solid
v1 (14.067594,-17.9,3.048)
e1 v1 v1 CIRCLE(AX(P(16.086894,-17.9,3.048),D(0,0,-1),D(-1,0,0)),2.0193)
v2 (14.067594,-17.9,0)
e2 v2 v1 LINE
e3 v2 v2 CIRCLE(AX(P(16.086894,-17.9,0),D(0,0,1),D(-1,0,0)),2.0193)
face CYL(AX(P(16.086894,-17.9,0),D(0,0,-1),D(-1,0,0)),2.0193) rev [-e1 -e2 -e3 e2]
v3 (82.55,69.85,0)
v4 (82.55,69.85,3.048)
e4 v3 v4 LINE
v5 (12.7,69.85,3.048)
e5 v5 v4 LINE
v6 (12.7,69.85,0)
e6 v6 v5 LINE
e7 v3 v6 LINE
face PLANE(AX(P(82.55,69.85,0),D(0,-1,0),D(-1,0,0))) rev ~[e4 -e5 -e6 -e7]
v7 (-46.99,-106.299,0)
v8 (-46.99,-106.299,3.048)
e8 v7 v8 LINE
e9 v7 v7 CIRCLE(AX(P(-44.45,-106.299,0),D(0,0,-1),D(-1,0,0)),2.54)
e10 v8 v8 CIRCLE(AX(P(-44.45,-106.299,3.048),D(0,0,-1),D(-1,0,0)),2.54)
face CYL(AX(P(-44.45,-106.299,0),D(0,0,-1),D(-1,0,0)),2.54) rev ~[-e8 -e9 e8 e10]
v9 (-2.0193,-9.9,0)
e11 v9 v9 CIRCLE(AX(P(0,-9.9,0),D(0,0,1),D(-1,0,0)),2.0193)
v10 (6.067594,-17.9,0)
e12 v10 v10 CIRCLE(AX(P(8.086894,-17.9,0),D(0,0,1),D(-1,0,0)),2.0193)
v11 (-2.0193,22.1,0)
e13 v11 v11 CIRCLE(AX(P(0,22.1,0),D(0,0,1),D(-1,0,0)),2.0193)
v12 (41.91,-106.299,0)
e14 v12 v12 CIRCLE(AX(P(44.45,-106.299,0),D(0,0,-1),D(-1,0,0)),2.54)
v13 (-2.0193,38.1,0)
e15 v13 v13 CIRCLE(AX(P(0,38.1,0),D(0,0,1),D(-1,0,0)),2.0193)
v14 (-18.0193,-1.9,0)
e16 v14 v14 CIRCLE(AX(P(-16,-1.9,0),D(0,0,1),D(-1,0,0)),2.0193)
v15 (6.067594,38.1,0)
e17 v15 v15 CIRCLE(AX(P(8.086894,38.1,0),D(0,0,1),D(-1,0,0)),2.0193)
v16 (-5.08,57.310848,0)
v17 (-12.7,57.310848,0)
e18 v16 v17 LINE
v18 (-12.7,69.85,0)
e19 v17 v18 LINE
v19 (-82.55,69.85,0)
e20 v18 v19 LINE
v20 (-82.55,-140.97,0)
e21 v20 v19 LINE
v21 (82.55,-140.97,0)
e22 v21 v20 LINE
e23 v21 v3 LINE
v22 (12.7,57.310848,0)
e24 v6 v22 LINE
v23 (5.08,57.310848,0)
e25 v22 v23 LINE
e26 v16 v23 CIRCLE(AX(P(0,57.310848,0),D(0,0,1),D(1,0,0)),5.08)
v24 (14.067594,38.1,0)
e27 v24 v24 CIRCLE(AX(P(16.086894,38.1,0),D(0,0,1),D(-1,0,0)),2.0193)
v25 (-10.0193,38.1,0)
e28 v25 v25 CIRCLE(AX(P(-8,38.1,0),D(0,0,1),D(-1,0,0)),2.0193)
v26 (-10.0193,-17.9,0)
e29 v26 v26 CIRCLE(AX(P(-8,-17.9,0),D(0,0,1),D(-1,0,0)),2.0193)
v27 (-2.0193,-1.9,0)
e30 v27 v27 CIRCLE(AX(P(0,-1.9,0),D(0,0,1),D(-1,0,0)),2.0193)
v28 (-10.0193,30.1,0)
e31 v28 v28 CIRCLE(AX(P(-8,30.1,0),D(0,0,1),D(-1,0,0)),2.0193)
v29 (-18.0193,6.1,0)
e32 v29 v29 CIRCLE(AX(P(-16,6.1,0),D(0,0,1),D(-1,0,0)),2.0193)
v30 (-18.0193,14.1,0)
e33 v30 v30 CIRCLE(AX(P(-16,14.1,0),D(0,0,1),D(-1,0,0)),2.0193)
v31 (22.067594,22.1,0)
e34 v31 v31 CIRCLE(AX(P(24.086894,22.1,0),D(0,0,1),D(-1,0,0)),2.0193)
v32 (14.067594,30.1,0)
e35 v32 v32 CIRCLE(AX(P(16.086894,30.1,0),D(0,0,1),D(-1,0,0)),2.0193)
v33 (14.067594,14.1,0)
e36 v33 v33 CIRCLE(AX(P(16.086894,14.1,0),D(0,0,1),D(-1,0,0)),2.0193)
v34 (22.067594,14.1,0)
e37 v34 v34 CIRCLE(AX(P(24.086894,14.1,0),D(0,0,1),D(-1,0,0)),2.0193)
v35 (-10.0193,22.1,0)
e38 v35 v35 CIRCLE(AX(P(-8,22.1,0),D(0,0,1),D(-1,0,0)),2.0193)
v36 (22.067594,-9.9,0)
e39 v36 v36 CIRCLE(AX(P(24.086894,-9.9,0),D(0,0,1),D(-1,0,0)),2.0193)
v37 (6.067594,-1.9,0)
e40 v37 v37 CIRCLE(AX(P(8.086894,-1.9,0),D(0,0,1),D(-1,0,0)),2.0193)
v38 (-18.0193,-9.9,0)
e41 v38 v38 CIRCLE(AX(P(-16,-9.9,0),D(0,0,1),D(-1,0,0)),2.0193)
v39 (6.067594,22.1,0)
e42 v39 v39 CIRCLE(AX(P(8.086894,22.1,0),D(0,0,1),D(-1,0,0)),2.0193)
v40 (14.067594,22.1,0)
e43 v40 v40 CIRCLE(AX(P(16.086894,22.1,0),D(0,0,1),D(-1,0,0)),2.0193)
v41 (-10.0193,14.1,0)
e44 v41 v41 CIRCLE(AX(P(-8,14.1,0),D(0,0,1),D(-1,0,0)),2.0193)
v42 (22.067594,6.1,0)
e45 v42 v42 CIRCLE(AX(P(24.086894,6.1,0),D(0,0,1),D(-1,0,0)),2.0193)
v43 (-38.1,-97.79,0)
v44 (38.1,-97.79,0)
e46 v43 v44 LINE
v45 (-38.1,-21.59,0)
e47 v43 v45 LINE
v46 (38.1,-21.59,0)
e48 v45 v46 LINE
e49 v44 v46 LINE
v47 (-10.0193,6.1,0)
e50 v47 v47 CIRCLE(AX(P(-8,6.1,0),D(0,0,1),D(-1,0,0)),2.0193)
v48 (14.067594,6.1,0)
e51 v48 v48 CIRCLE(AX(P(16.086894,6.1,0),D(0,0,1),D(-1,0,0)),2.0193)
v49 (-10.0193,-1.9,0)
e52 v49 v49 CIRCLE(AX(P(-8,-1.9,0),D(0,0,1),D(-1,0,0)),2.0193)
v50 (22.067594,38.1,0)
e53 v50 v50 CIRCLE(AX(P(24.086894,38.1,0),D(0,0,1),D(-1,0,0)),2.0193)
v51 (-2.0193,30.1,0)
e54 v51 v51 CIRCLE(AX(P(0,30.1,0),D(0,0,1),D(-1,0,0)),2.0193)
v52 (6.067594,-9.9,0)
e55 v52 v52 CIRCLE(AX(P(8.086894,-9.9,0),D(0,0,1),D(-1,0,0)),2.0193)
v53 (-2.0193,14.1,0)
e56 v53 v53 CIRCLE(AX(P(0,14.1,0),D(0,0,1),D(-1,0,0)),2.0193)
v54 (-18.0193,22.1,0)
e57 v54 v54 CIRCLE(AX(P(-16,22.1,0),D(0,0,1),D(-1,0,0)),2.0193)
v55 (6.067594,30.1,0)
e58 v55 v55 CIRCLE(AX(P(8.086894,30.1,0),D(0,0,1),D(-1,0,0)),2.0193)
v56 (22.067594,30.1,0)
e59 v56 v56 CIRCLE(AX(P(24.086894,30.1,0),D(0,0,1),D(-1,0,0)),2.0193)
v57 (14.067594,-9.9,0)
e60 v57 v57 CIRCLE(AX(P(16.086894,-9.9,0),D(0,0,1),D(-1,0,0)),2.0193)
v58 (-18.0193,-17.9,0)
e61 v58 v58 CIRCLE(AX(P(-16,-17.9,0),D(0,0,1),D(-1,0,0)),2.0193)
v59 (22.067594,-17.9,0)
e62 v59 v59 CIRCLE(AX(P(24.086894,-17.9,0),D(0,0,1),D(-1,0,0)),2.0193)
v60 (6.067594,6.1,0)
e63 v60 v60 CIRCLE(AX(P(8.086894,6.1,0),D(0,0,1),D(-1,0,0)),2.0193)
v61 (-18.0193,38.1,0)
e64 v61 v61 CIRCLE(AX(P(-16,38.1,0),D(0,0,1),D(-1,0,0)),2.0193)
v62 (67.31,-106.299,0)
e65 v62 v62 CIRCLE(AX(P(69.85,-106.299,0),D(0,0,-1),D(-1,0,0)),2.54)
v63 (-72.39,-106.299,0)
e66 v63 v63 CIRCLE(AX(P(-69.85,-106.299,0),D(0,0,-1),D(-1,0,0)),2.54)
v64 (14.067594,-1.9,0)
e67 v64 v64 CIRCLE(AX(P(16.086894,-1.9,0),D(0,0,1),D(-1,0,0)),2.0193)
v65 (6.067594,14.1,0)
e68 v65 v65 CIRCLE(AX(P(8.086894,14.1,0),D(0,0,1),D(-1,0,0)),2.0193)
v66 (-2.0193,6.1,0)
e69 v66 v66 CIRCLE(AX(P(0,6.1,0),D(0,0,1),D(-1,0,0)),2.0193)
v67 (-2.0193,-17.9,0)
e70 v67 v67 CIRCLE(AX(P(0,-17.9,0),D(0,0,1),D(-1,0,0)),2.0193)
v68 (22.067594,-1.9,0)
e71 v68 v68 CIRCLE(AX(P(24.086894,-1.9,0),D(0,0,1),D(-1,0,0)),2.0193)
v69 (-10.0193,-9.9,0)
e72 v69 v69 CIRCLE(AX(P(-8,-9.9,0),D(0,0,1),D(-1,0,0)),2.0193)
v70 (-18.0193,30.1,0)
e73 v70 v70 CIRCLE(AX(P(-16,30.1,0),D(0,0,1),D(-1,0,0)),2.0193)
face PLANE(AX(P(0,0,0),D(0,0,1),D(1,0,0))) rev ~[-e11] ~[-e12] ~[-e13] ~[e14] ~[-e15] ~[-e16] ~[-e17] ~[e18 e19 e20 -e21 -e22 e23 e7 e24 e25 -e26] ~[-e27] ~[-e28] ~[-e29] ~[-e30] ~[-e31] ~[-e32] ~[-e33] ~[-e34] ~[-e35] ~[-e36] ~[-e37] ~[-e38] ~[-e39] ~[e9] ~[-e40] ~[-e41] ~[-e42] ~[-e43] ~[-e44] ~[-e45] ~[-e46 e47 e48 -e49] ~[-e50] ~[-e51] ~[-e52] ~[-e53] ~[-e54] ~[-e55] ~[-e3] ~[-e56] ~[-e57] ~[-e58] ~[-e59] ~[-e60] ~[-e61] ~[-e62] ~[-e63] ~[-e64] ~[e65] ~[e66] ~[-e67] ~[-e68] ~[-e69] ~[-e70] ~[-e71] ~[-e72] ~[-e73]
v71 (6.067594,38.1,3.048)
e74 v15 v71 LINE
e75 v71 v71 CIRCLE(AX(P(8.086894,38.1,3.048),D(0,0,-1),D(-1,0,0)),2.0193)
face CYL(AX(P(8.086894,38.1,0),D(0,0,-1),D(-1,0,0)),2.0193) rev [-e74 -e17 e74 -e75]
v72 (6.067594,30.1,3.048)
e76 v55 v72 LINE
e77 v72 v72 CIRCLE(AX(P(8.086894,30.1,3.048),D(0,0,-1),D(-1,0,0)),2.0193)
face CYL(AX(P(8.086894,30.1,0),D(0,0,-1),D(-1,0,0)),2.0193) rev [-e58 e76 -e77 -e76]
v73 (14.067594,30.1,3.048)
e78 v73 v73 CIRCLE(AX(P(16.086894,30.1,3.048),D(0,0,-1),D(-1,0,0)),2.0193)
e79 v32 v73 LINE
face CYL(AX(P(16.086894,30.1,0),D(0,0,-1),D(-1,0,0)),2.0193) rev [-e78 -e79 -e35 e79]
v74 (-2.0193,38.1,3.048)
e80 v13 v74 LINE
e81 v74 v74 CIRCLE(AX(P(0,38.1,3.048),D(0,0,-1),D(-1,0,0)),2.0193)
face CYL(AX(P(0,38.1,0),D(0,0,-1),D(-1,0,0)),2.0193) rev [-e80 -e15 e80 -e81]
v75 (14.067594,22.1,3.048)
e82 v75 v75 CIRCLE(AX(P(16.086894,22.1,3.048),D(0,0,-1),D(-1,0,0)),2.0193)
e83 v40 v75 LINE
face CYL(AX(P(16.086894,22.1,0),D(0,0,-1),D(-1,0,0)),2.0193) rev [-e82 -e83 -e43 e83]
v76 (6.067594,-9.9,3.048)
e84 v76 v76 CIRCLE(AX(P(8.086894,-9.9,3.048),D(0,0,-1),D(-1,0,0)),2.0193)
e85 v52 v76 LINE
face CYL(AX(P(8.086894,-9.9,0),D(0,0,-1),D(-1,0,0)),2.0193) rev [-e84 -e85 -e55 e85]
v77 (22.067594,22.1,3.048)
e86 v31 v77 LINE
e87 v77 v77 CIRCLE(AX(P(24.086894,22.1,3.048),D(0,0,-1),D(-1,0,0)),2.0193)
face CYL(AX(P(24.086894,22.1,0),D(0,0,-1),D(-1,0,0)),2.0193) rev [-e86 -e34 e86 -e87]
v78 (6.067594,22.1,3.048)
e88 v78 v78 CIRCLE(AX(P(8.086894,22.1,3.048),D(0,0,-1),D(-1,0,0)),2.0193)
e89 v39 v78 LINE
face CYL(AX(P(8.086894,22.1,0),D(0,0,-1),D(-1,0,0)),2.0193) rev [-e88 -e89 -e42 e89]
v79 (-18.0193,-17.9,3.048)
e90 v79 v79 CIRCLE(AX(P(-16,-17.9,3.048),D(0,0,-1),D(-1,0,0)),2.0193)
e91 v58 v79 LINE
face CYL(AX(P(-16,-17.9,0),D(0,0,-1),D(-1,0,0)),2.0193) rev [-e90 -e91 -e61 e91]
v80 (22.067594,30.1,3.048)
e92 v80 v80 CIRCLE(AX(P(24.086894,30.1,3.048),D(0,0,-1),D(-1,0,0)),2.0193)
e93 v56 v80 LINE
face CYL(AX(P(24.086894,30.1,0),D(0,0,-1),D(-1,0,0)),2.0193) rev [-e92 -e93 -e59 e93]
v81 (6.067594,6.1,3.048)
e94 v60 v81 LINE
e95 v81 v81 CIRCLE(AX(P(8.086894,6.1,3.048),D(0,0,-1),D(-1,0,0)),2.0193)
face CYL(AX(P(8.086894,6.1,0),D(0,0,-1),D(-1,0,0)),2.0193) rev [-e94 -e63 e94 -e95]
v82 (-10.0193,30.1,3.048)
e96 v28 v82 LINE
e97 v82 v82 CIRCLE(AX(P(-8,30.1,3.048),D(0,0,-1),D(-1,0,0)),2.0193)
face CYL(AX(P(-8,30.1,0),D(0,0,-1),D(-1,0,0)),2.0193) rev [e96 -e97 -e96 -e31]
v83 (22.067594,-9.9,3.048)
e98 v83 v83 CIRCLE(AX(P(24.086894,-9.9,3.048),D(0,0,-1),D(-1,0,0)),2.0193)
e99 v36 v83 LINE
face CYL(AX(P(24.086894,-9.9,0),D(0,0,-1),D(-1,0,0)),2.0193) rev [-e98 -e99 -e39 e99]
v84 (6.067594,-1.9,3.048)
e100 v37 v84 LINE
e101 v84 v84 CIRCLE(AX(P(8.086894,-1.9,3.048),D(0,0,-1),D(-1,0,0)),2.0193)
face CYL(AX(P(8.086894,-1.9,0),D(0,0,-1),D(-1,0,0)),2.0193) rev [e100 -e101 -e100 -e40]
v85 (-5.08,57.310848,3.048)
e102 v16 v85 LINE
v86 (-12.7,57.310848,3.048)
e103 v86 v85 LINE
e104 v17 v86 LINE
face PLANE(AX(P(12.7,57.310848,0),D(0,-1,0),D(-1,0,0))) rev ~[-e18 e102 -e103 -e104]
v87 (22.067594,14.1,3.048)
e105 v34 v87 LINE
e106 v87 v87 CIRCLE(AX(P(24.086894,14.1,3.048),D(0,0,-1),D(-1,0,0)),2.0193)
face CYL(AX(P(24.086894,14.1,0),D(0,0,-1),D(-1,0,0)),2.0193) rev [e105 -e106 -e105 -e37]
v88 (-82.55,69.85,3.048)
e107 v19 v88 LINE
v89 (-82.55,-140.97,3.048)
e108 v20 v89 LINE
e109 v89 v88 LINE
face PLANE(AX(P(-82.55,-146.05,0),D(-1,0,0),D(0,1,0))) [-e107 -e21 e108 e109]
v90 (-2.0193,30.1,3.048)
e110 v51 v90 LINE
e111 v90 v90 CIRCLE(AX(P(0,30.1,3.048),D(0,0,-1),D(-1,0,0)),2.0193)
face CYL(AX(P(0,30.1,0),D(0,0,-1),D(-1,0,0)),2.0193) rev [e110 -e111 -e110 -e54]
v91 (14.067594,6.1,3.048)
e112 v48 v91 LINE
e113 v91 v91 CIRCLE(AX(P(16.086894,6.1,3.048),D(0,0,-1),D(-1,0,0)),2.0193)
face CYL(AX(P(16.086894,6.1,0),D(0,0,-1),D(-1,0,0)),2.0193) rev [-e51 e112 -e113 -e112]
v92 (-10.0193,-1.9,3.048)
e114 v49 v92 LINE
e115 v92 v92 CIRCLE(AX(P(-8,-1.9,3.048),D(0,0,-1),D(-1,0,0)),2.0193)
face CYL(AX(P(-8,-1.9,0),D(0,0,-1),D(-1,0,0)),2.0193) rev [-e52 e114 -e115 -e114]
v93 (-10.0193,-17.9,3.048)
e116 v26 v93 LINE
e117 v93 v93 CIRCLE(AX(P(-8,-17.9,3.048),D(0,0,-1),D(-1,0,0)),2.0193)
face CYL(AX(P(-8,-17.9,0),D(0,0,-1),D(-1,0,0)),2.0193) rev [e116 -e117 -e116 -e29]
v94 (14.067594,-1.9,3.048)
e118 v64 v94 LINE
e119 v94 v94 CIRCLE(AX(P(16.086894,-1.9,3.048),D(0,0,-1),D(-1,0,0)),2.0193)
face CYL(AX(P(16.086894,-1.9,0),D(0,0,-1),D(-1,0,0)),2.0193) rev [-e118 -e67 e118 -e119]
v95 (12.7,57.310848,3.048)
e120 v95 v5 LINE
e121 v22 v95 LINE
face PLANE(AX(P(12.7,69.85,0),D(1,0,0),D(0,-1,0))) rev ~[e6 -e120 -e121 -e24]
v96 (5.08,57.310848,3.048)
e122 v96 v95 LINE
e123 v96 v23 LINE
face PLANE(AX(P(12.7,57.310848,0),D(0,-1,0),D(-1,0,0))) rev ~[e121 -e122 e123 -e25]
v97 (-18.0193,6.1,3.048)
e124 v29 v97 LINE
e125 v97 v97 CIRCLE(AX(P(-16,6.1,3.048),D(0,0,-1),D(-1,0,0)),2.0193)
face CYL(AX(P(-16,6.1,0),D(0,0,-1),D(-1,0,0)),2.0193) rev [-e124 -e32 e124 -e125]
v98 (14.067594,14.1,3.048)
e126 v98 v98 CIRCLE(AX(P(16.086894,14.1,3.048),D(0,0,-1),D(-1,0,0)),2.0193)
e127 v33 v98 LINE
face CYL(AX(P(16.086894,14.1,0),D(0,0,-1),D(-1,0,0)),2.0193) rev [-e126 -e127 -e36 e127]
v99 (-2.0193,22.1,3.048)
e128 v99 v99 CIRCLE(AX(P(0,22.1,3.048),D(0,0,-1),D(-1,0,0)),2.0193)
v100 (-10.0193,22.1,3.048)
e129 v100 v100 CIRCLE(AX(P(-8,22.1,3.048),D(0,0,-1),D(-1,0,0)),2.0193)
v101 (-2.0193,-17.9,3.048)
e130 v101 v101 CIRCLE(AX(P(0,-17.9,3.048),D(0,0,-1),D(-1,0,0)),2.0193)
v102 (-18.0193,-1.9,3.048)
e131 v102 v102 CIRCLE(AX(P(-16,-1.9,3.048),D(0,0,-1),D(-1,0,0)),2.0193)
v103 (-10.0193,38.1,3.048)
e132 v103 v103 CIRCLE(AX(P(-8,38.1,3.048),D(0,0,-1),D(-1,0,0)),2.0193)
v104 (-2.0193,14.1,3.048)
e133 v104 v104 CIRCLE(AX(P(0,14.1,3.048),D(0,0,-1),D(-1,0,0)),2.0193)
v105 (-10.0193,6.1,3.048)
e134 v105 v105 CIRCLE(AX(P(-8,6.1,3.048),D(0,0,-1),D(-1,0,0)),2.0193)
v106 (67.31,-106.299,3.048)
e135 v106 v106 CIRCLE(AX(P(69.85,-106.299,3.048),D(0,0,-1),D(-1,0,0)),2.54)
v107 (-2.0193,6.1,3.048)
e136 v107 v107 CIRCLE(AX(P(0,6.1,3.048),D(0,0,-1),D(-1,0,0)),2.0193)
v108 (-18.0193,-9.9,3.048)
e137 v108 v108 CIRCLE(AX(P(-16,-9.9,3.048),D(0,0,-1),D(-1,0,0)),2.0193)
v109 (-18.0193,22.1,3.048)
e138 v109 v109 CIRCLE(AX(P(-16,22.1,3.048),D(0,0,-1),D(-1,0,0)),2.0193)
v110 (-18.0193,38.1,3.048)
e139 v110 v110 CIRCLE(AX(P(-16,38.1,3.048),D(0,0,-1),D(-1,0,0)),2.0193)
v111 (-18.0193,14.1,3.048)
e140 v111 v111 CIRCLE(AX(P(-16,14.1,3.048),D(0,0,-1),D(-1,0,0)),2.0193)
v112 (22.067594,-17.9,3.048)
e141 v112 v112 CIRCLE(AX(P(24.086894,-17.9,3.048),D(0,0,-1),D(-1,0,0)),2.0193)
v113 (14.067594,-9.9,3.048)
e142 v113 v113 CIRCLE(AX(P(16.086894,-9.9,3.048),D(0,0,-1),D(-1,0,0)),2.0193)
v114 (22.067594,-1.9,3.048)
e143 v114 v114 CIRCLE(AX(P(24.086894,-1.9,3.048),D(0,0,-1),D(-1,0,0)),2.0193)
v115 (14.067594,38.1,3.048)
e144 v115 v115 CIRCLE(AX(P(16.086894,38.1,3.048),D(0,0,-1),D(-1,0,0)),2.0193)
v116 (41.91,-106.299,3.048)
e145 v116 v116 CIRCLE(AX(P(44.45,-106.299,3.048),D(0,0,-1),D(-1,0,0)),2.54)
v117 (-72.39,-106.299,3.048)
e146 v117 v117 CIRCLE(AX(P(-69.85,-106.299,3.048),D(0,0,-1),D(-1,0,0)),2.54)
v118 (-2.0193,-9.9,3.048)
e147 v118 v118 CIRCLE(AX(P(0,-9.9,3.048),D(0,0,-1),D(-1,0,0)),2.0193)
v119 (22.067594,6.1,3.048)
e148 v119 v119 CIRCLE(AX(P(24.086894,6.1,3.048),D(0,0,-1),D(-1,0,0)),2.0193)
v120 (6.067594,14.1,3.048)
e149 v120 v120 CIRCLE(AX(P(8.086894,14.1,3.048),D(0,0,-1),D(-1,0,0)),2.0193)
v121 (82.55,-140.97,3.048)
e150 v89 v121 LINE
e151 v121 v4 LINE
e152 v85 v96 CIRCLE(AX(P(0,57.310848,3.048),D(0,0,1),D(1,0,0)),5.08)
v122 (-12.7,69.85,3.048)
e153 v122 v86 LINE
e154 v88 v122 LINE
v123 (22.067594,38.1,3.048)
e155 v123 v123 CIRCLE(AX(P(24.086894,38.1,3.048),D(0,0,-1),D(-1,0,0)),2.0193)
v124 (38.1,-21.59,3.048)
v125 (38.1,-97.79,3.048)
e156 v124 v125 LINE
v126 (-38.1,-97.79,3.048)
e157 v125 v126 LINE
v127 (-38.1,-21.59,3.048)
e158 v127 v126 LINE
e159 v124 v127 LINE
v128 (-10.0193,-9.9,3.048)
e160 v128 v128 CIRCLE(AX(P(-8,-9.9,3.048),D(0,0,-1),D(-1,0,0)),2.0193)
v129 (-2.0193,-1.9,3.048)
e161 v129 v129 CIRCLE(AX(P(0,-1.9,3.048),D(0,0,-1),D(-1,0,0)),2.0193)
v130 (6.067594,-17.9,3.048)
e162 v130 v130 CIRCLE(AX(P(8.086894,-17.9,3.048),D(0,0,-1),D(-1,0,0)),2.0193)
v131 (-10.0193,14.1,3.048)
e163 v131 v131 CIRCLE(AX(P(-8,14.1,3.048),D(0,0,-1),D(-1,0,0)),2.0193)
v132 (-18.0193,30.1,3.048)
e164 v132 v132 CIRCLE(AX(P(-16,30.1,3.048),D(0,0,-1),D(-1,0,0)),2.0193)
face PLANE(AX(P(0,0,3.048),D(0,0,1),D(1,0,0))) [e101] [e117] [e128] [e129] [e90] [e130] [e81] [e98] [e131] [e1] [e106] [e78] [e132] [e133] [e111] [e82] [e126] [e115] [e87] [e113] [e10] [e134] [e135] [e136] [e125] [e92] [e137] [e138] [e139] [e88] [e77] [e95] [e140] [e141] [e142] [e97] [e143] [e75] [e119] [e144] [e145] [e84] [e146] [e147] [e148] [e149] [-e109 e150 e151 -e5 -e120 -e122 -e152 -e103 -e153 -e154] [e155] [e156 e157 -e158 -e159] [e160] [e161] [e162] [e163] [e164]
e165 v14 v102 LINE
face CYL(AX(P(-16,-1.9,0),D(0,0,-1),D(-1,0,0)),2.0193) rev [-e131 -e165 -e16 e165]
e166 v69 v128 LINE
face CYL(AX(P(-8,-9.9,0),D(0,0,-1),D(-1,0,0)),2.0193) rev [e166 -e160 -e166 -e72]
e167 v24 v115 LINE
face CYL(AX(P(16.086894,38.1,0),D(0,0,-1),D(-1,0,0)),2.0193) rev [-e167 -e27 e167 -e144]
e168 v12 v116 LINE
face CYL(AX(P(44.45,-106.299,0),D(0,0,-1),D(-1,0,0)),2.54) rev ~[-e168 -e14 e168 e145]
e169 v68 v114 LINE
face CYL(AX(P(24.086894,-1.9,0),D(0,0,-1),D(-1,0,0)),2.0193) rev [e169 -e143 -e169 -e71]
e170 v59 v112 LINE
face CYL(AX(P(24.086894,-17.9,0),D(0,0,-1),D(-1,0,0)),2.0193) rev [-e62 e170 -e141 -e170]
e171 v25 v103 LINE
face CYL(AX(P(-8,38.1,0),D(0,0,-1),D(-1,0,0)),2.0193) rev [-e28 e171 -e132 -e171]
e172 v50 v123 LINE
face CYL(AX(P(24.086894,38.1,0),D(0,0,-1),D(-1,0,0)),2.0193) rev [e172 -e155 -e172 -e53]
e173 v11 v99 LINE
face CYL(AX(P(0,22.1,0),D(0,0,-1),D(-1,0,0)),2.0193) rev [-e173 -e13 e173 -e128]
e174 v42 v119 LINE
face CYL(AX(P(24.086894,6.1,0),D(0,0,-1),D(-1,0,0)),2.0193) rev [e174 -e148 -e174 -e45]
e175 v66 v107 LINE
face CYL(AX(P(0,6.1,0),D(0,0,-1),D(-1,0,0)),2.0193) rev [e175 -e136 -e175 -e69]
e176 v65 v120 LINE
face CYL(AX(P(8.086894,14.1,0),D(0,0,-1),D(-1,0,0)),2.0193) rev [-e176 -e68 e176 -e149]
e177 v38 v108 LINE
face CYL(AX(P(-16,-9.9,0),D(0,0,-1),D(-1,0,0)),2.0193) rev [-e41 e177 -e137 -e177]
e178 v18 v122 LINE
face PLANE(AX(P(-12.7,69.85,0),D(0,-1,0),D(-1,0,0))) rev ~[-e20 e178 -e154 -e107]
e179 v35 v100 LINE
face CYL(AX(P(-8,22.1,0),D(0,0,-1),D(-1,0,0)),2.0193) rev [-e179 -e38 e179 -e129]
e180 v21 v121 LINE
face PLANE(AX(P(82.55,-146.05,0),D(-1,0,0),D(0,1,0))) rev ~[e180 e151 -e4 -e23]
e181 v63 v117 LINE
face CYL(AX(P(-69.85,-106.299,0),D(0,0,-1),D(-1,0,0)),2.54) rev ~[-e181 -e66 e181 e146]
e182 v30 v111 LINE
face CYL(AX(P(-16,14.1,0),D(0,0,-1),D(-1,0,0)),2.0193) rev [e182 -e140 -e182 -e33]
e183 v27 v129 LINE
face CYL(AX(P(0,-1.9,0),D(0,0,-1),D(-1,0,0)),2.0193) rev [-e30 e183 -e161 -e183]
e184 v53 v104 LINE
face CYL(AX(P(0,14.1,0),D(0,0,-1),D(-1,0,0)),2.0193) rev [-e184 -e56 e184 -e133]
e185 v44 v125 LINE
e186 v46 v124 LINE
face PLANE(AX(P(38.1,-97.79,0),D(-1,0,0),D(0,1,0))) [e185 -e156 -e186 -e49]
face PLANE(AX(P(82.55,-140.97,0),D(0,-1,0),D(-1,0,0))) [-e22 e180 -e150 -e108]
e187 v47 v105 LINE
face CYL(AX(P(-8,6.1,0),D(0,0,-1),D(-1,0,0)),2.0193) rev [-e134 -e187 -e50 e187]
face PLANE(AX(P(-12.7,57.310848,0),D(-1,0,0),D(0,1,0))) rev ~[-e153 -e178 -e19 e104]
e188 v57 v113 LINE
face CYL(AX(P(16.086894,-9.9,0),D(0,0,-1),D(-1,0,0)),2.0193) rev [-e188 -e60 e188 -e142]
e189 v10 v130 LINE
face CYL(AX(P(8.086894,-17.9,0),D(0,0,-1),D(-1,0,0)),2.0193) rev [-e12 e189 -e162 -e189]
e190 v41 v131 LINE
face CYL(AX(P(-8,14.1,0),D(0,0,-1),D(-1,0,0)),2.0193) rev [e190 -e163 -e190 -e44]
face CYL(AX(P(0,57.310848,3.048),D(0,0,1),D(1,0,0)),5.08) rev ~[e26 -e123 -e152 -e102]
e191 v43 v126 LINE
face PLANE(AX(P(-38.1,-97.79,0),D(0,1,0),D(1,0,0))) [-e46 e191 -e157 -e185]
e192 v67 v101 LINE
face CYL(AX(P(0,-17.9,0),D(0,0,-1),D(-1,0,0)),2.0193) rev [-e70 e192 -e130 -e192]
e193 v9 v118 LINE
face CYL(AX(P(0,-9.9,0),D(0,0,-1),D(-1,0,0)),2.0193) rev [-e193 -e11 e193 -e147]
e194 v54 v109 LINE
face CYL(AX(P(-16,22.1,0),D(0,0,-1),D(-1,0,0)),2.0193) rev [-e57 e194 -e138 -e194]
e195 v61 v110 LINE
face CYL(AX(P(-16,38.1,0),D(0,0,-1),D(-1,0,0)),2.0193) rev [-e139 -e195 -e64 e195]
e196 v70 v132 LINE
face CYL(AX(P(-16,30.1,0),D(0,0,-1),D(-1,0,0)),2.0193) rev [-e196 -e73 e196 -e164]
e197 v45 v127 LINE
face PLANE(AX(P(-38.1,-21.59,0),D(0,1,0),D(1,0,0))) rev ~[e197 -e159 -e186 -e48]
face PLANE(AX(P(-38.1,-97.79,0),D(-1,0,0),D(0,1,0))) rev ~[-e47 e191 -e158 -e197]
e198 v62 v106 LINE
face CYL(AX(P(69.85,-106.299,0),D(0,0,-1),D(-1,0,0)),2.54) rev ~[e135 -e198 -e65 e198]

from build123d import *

# Parameters (mm, degrees)
SKETCH1_W           = 165.1
SKETCH1_H           = 292.1
BOSS_EXTRUDE1_DEPTH = 3.048
SKETCH2_R           = 10.7315
SKETCH2_R_2         = 2.0193
SKETCH2_W           = 16.173788568
SKETCH2_H           = 32.6898
SKETCH2_W_2         = 76.2
SKETCH2_H_2         = 76.2
CUT_EXTRUDE1_DEPTH  = 168.792715289
CUT_EXTRUDE2_DEPTH  = 168.792715289
SKETCH5_R           = 2.54
CUT_EXTRUDE3_DEPTH  = 168.792715289
SKETCH6_W           = 165.1
SKETCH6_H           = 5.08
CUT_EXTRUDE4_DEPTH  = 168.792715289
CUT_EXTRUDE5_REACH  = 165.39
SKETCH7_R           = 5.08


with BuildPart() as part:
    # Sketch1 → Boss-Extrude1 (new body)
    with BuildSketch(Plane.XY):
        Rectangle(SKETCH1_W, SKETCH1_H)
    extrude(amount=BOSS_EXTRUDE1_DEPTH)

    # Sketch2 → Cut-Extrude1 (cut, through all)
    with BuildSketch(Plane.XY):
        with Locations((0, 92.71)):
            Circle(SKETCH2_R)
        with Locations(Location((0, 38.1, 0), (0, 0, 180))):
            Circle(SKETCH2_R_2)
        with Locations(Location((0, 30.1, 0), (0, 0, 180))):
            Circle(SKETCH2_R_2)
        with Locations(Location((0, 22.1, 0), (0, 0, 180))):
            Circle(SKETCH2_R_2)
        with Locations(Location((0, 14.1, 0), (0, 0, 180))):
            Circle(SKETCH2_R_2)
        with Locations(Location((0, 6.1, 0), (0, 0, 180))):
            Circle(SKETCH2_R_2)
        with Locations(Location((0, -1.9, 0), (0, 0, 180))):
            Circle(SKETCH2_R_2)
        with Locations(Location((0, -9.9, 0), (0, 0, 180))):
            Circle(SKETCH2_R_2)
        with Locations(Location((0, -17.9, 0), (0, 0, 180))):
            Circle(SKETCH2_R_2)
        with Locations(Location((-8, 38.1, 0), (0, 0, 180))):
            Circle(SKETCH2_R_2)
        with Locations(Location((-16, 38.1, 0), (0, 0, 180))):
            Circle(SKETCH2_R_2)
        with Locations(Location((-8, 30.1, 0), (0, 0, 180))):
            Circle(SKETCH2_R_2)
        with Locations(Location((-16, 30.1, 0), (0, 0, 180))):
            Circle(SKETCH2_R_2)
        with Locations(Location((-8, 22.1, 0), (0, 0, 180))):
            Circle(SKETCH2_R_2)
        with Locations(Location((-16, 22.1, 0), (0, 0, 180))):
            Circle(SKETCH2_R_2)
        with Locations(Location((-8, 14.1, 0), (0, 0, 180))):
            Circle(SKETCH2_R_2)
        with Locations(Location((-16, 14.1, 0), (0, 0, 180))):
            Circle(SKETCH2_R_2)
        with Locations(Location((-8, 6.1, 0), (0, 0, 180))):
            Circle(SKETCH2_R_2)
        with Locations(Location((-16, 6.1, 0), (0, 0, 180))):
            Circle(SKETCH2_R_2)
        with Locations(Location((-8, -1.9, 0), (0, 0, 180))):
            Circle(SKETCH2_R_2)
        with Locations(Location((-16, -1.9, 0), (0, 0, 180))):
            Circle(SKETCH2_R_2)
        with Locations(Location((-8, -9.9, 0), (0, 0, 180))):
            Circle(SKETCH2_R_2)
        with Locations(Location((-16, -9.9, 0), (0, 0, 180))):
            Circle(SKETCH2_R_2)
        with Locations(Location((-8, -17.9, 0), (0, 0, 180))):
            Circle(SKETCH2_R_2)
        with Locations(Location((-16, -17.9, 0), (0, 0, 180))):
            Circle(SKETCH2_R_2)
        with Locations(Location((24.086894284, 14.1, 0), (0, 0, 180))):
            Circle(SKETCH2_R_2)
        with Locations(Location((8.086894284, 14.1, 0), (0, 0, 180))):
            Circle(SKETCH2_R_2)
        with Locations(Location((8.086894284, -17.9, 0), (0, 0, 180))):
            Circle(SKETCH2_R_2)
        with Locations(Location((24.086894284, 6.1, 0), (0, 0, 180))):
            Circle(SKETCH2_R_2)
        with Locations(Location((16.086894284, 6.1, 0), (0, 0, 180))):
            Circle(SKETCH2_R_2)
        with Locations(Location((8.086894284, -1.9, 0), (0, 0, 180))):
            Circle(SKETCH2_R_2)
        with Locations(Location((8.086894284, 30.1, 0), (0, 0, 180))):
            Circle(SKETCH2_R_2)
        with Locations(Location((24.086894284, 22.1, 0), (0, 0, 180))):
            Circle(SKETCH2_R_2)
        with Locations(Location((24.086894284, -1.9, 0), (0, 0, 180))):
            Circle(SKETCH2_R_2)
        with Locations(Location((24.086894284, -9.9, 0), (0, 0, 180))):
            Circle(SKETCH2_R_2)
        with Locations(Location((8.086894284, 6.1, 0), (0, 0, 180))):
            Circle(SKETCH2_R_2)
        with Locations(Location((16.086894284, 22.1, 0), (0, 0, 180))):
            Circle(SKETCH2_R_2)
        with Locations(Location((8.086894284, 22.1, 0), (0, 0, 180))):
            Circle(SKETCH2_R_2)
        with Locations(Location((8.086894284, -9.9, 0), (0, 0, 180))):
            Circle(SKETCH2_R_2)
        with Locations(Location((24.086894284, -17.9, 0), (0, 0, 180))):
            Circle(SKETCH2_R_2)
        with Locations(Location((16.086894284, 14.1, 0), (0, 0, 180))):
            Circle(SKETCH2_R_2)
        with Locations(Location((16.086894284, -17.9, 0), (0, 0, 180))):
            Circle(SKETCH2_R_2)
        with Locations(Location((16.086894284, 30.1, 0), (0, 0, 180))):
            Circle(SKETCH2_R_2)
        with Locations(Location((24.086894284, 30.1, 0), (0, 0, 180))):
            Circle(SKETCH2_R_2)
        with Locations(Location((16.086894284, -9.9, 0), (0, 0, 180))):
            Circle(SKETCH2_R_2)
        with Locations(Location((16.086894284, -1.9, 0), (0, 0, 180))):
            Circle(SKETCH2_R_2)
        with Locations(Location((16.086894284, 38.1, 0), (0, 0, 180))):
            Circle(SKETCH2_R_2)
        with Locations(Location((8.086894284, 38.1, 0), (0, 0, 180))):
            Circle(SKETCH2_R_2)
        with Locations(Location((24.086894284, 38.1, 0), (0, 0, 180))):
            Circle(SKETCH2_R_2)
        with Locations((0, 92.71)):
            Rectangle(SKETCH2_W, SKETCH2_H)
        with Locations((0, -59.69)):
            Rectangle(SKETCH2_W_2, SKETCH2_H_2)
    extrude(amount=CUT_EXTRUDE1_DEPTH, mode=Mode.SUBTRACT)

    # Sketch4 → Cut-Extrude2 (cut, through all)
    with BuildSketch(Plane.XY):
        Polygon((-12.7, 57.310847547), (-12.7, 69.85), (-82.55, 69.85), (-82.55, 146.05), (82.55, 146.05), (82.55, 69.85), (12.7, 69.85), (12.7, 57.310847547), align=None)
    extrude(amount=CUT_EXTRUDE2_DEPTH, mode=Mode.SUBTRACT)

    # Sketch5 → Cut-Extrude3 (cut, through all)
    with BuildSketch(Plane(origin=(0, 0, 0), x_dir=(-1, 0, 0), z_dir=(0, 0, -1))):
        with Locations((-44.45, -106.299)):
            Circle(SKETCH5_R)
        with Locations((-69.85, -106.299)):
            Circle(SKETCH5_R)
        with Locations((69.85, -106.299)):
            Circle(SKETCH5_R)
        with Locations((44.45, -106.299)):
            Circle(SKETCH5_R)
    extrude(amount=-CUT_EXTRUDE3_DEPTH, mode=Mode.SUBTRACT)

    # Sketch6 → Cut-Extrude4 (cut, through all)
    with BuildSketch(Plane(origin=(0, 0, 0), x_dir=(-1, 0, 0), z_dir=(0, 0, -1))):
        with Locations((0, -143.51)):
            Rectangle(SKETCH6_W, SKETCH6_H)
    extrude(amount=-CUT_EXTRUDE4_DEPTH, mode=Mode.SUBTRACT)

    # Sketch7 → Cut-Extrude5 (cut, up to next)
    with BuildSketch(Plane.XY.offset(3.048), mode=Mode.PRIVATE) as cut_extrude5_sk1:
        with Locations((0, 57.310847547)):
            Circle(SKETCH7_R)
    cut_extrude5_tool1 = extrude(cut_extrude5_sk1.sketch, amount=-CUT_EXTRUDE5_REACH, mode=Mode.PRIVATE) & part.part
    add(cut_extrude5_tool1.solids().sort_by_distance((0, 57.310848, 3.048))[0], mode=Mode.SUBTRACT)


solid = part.part
